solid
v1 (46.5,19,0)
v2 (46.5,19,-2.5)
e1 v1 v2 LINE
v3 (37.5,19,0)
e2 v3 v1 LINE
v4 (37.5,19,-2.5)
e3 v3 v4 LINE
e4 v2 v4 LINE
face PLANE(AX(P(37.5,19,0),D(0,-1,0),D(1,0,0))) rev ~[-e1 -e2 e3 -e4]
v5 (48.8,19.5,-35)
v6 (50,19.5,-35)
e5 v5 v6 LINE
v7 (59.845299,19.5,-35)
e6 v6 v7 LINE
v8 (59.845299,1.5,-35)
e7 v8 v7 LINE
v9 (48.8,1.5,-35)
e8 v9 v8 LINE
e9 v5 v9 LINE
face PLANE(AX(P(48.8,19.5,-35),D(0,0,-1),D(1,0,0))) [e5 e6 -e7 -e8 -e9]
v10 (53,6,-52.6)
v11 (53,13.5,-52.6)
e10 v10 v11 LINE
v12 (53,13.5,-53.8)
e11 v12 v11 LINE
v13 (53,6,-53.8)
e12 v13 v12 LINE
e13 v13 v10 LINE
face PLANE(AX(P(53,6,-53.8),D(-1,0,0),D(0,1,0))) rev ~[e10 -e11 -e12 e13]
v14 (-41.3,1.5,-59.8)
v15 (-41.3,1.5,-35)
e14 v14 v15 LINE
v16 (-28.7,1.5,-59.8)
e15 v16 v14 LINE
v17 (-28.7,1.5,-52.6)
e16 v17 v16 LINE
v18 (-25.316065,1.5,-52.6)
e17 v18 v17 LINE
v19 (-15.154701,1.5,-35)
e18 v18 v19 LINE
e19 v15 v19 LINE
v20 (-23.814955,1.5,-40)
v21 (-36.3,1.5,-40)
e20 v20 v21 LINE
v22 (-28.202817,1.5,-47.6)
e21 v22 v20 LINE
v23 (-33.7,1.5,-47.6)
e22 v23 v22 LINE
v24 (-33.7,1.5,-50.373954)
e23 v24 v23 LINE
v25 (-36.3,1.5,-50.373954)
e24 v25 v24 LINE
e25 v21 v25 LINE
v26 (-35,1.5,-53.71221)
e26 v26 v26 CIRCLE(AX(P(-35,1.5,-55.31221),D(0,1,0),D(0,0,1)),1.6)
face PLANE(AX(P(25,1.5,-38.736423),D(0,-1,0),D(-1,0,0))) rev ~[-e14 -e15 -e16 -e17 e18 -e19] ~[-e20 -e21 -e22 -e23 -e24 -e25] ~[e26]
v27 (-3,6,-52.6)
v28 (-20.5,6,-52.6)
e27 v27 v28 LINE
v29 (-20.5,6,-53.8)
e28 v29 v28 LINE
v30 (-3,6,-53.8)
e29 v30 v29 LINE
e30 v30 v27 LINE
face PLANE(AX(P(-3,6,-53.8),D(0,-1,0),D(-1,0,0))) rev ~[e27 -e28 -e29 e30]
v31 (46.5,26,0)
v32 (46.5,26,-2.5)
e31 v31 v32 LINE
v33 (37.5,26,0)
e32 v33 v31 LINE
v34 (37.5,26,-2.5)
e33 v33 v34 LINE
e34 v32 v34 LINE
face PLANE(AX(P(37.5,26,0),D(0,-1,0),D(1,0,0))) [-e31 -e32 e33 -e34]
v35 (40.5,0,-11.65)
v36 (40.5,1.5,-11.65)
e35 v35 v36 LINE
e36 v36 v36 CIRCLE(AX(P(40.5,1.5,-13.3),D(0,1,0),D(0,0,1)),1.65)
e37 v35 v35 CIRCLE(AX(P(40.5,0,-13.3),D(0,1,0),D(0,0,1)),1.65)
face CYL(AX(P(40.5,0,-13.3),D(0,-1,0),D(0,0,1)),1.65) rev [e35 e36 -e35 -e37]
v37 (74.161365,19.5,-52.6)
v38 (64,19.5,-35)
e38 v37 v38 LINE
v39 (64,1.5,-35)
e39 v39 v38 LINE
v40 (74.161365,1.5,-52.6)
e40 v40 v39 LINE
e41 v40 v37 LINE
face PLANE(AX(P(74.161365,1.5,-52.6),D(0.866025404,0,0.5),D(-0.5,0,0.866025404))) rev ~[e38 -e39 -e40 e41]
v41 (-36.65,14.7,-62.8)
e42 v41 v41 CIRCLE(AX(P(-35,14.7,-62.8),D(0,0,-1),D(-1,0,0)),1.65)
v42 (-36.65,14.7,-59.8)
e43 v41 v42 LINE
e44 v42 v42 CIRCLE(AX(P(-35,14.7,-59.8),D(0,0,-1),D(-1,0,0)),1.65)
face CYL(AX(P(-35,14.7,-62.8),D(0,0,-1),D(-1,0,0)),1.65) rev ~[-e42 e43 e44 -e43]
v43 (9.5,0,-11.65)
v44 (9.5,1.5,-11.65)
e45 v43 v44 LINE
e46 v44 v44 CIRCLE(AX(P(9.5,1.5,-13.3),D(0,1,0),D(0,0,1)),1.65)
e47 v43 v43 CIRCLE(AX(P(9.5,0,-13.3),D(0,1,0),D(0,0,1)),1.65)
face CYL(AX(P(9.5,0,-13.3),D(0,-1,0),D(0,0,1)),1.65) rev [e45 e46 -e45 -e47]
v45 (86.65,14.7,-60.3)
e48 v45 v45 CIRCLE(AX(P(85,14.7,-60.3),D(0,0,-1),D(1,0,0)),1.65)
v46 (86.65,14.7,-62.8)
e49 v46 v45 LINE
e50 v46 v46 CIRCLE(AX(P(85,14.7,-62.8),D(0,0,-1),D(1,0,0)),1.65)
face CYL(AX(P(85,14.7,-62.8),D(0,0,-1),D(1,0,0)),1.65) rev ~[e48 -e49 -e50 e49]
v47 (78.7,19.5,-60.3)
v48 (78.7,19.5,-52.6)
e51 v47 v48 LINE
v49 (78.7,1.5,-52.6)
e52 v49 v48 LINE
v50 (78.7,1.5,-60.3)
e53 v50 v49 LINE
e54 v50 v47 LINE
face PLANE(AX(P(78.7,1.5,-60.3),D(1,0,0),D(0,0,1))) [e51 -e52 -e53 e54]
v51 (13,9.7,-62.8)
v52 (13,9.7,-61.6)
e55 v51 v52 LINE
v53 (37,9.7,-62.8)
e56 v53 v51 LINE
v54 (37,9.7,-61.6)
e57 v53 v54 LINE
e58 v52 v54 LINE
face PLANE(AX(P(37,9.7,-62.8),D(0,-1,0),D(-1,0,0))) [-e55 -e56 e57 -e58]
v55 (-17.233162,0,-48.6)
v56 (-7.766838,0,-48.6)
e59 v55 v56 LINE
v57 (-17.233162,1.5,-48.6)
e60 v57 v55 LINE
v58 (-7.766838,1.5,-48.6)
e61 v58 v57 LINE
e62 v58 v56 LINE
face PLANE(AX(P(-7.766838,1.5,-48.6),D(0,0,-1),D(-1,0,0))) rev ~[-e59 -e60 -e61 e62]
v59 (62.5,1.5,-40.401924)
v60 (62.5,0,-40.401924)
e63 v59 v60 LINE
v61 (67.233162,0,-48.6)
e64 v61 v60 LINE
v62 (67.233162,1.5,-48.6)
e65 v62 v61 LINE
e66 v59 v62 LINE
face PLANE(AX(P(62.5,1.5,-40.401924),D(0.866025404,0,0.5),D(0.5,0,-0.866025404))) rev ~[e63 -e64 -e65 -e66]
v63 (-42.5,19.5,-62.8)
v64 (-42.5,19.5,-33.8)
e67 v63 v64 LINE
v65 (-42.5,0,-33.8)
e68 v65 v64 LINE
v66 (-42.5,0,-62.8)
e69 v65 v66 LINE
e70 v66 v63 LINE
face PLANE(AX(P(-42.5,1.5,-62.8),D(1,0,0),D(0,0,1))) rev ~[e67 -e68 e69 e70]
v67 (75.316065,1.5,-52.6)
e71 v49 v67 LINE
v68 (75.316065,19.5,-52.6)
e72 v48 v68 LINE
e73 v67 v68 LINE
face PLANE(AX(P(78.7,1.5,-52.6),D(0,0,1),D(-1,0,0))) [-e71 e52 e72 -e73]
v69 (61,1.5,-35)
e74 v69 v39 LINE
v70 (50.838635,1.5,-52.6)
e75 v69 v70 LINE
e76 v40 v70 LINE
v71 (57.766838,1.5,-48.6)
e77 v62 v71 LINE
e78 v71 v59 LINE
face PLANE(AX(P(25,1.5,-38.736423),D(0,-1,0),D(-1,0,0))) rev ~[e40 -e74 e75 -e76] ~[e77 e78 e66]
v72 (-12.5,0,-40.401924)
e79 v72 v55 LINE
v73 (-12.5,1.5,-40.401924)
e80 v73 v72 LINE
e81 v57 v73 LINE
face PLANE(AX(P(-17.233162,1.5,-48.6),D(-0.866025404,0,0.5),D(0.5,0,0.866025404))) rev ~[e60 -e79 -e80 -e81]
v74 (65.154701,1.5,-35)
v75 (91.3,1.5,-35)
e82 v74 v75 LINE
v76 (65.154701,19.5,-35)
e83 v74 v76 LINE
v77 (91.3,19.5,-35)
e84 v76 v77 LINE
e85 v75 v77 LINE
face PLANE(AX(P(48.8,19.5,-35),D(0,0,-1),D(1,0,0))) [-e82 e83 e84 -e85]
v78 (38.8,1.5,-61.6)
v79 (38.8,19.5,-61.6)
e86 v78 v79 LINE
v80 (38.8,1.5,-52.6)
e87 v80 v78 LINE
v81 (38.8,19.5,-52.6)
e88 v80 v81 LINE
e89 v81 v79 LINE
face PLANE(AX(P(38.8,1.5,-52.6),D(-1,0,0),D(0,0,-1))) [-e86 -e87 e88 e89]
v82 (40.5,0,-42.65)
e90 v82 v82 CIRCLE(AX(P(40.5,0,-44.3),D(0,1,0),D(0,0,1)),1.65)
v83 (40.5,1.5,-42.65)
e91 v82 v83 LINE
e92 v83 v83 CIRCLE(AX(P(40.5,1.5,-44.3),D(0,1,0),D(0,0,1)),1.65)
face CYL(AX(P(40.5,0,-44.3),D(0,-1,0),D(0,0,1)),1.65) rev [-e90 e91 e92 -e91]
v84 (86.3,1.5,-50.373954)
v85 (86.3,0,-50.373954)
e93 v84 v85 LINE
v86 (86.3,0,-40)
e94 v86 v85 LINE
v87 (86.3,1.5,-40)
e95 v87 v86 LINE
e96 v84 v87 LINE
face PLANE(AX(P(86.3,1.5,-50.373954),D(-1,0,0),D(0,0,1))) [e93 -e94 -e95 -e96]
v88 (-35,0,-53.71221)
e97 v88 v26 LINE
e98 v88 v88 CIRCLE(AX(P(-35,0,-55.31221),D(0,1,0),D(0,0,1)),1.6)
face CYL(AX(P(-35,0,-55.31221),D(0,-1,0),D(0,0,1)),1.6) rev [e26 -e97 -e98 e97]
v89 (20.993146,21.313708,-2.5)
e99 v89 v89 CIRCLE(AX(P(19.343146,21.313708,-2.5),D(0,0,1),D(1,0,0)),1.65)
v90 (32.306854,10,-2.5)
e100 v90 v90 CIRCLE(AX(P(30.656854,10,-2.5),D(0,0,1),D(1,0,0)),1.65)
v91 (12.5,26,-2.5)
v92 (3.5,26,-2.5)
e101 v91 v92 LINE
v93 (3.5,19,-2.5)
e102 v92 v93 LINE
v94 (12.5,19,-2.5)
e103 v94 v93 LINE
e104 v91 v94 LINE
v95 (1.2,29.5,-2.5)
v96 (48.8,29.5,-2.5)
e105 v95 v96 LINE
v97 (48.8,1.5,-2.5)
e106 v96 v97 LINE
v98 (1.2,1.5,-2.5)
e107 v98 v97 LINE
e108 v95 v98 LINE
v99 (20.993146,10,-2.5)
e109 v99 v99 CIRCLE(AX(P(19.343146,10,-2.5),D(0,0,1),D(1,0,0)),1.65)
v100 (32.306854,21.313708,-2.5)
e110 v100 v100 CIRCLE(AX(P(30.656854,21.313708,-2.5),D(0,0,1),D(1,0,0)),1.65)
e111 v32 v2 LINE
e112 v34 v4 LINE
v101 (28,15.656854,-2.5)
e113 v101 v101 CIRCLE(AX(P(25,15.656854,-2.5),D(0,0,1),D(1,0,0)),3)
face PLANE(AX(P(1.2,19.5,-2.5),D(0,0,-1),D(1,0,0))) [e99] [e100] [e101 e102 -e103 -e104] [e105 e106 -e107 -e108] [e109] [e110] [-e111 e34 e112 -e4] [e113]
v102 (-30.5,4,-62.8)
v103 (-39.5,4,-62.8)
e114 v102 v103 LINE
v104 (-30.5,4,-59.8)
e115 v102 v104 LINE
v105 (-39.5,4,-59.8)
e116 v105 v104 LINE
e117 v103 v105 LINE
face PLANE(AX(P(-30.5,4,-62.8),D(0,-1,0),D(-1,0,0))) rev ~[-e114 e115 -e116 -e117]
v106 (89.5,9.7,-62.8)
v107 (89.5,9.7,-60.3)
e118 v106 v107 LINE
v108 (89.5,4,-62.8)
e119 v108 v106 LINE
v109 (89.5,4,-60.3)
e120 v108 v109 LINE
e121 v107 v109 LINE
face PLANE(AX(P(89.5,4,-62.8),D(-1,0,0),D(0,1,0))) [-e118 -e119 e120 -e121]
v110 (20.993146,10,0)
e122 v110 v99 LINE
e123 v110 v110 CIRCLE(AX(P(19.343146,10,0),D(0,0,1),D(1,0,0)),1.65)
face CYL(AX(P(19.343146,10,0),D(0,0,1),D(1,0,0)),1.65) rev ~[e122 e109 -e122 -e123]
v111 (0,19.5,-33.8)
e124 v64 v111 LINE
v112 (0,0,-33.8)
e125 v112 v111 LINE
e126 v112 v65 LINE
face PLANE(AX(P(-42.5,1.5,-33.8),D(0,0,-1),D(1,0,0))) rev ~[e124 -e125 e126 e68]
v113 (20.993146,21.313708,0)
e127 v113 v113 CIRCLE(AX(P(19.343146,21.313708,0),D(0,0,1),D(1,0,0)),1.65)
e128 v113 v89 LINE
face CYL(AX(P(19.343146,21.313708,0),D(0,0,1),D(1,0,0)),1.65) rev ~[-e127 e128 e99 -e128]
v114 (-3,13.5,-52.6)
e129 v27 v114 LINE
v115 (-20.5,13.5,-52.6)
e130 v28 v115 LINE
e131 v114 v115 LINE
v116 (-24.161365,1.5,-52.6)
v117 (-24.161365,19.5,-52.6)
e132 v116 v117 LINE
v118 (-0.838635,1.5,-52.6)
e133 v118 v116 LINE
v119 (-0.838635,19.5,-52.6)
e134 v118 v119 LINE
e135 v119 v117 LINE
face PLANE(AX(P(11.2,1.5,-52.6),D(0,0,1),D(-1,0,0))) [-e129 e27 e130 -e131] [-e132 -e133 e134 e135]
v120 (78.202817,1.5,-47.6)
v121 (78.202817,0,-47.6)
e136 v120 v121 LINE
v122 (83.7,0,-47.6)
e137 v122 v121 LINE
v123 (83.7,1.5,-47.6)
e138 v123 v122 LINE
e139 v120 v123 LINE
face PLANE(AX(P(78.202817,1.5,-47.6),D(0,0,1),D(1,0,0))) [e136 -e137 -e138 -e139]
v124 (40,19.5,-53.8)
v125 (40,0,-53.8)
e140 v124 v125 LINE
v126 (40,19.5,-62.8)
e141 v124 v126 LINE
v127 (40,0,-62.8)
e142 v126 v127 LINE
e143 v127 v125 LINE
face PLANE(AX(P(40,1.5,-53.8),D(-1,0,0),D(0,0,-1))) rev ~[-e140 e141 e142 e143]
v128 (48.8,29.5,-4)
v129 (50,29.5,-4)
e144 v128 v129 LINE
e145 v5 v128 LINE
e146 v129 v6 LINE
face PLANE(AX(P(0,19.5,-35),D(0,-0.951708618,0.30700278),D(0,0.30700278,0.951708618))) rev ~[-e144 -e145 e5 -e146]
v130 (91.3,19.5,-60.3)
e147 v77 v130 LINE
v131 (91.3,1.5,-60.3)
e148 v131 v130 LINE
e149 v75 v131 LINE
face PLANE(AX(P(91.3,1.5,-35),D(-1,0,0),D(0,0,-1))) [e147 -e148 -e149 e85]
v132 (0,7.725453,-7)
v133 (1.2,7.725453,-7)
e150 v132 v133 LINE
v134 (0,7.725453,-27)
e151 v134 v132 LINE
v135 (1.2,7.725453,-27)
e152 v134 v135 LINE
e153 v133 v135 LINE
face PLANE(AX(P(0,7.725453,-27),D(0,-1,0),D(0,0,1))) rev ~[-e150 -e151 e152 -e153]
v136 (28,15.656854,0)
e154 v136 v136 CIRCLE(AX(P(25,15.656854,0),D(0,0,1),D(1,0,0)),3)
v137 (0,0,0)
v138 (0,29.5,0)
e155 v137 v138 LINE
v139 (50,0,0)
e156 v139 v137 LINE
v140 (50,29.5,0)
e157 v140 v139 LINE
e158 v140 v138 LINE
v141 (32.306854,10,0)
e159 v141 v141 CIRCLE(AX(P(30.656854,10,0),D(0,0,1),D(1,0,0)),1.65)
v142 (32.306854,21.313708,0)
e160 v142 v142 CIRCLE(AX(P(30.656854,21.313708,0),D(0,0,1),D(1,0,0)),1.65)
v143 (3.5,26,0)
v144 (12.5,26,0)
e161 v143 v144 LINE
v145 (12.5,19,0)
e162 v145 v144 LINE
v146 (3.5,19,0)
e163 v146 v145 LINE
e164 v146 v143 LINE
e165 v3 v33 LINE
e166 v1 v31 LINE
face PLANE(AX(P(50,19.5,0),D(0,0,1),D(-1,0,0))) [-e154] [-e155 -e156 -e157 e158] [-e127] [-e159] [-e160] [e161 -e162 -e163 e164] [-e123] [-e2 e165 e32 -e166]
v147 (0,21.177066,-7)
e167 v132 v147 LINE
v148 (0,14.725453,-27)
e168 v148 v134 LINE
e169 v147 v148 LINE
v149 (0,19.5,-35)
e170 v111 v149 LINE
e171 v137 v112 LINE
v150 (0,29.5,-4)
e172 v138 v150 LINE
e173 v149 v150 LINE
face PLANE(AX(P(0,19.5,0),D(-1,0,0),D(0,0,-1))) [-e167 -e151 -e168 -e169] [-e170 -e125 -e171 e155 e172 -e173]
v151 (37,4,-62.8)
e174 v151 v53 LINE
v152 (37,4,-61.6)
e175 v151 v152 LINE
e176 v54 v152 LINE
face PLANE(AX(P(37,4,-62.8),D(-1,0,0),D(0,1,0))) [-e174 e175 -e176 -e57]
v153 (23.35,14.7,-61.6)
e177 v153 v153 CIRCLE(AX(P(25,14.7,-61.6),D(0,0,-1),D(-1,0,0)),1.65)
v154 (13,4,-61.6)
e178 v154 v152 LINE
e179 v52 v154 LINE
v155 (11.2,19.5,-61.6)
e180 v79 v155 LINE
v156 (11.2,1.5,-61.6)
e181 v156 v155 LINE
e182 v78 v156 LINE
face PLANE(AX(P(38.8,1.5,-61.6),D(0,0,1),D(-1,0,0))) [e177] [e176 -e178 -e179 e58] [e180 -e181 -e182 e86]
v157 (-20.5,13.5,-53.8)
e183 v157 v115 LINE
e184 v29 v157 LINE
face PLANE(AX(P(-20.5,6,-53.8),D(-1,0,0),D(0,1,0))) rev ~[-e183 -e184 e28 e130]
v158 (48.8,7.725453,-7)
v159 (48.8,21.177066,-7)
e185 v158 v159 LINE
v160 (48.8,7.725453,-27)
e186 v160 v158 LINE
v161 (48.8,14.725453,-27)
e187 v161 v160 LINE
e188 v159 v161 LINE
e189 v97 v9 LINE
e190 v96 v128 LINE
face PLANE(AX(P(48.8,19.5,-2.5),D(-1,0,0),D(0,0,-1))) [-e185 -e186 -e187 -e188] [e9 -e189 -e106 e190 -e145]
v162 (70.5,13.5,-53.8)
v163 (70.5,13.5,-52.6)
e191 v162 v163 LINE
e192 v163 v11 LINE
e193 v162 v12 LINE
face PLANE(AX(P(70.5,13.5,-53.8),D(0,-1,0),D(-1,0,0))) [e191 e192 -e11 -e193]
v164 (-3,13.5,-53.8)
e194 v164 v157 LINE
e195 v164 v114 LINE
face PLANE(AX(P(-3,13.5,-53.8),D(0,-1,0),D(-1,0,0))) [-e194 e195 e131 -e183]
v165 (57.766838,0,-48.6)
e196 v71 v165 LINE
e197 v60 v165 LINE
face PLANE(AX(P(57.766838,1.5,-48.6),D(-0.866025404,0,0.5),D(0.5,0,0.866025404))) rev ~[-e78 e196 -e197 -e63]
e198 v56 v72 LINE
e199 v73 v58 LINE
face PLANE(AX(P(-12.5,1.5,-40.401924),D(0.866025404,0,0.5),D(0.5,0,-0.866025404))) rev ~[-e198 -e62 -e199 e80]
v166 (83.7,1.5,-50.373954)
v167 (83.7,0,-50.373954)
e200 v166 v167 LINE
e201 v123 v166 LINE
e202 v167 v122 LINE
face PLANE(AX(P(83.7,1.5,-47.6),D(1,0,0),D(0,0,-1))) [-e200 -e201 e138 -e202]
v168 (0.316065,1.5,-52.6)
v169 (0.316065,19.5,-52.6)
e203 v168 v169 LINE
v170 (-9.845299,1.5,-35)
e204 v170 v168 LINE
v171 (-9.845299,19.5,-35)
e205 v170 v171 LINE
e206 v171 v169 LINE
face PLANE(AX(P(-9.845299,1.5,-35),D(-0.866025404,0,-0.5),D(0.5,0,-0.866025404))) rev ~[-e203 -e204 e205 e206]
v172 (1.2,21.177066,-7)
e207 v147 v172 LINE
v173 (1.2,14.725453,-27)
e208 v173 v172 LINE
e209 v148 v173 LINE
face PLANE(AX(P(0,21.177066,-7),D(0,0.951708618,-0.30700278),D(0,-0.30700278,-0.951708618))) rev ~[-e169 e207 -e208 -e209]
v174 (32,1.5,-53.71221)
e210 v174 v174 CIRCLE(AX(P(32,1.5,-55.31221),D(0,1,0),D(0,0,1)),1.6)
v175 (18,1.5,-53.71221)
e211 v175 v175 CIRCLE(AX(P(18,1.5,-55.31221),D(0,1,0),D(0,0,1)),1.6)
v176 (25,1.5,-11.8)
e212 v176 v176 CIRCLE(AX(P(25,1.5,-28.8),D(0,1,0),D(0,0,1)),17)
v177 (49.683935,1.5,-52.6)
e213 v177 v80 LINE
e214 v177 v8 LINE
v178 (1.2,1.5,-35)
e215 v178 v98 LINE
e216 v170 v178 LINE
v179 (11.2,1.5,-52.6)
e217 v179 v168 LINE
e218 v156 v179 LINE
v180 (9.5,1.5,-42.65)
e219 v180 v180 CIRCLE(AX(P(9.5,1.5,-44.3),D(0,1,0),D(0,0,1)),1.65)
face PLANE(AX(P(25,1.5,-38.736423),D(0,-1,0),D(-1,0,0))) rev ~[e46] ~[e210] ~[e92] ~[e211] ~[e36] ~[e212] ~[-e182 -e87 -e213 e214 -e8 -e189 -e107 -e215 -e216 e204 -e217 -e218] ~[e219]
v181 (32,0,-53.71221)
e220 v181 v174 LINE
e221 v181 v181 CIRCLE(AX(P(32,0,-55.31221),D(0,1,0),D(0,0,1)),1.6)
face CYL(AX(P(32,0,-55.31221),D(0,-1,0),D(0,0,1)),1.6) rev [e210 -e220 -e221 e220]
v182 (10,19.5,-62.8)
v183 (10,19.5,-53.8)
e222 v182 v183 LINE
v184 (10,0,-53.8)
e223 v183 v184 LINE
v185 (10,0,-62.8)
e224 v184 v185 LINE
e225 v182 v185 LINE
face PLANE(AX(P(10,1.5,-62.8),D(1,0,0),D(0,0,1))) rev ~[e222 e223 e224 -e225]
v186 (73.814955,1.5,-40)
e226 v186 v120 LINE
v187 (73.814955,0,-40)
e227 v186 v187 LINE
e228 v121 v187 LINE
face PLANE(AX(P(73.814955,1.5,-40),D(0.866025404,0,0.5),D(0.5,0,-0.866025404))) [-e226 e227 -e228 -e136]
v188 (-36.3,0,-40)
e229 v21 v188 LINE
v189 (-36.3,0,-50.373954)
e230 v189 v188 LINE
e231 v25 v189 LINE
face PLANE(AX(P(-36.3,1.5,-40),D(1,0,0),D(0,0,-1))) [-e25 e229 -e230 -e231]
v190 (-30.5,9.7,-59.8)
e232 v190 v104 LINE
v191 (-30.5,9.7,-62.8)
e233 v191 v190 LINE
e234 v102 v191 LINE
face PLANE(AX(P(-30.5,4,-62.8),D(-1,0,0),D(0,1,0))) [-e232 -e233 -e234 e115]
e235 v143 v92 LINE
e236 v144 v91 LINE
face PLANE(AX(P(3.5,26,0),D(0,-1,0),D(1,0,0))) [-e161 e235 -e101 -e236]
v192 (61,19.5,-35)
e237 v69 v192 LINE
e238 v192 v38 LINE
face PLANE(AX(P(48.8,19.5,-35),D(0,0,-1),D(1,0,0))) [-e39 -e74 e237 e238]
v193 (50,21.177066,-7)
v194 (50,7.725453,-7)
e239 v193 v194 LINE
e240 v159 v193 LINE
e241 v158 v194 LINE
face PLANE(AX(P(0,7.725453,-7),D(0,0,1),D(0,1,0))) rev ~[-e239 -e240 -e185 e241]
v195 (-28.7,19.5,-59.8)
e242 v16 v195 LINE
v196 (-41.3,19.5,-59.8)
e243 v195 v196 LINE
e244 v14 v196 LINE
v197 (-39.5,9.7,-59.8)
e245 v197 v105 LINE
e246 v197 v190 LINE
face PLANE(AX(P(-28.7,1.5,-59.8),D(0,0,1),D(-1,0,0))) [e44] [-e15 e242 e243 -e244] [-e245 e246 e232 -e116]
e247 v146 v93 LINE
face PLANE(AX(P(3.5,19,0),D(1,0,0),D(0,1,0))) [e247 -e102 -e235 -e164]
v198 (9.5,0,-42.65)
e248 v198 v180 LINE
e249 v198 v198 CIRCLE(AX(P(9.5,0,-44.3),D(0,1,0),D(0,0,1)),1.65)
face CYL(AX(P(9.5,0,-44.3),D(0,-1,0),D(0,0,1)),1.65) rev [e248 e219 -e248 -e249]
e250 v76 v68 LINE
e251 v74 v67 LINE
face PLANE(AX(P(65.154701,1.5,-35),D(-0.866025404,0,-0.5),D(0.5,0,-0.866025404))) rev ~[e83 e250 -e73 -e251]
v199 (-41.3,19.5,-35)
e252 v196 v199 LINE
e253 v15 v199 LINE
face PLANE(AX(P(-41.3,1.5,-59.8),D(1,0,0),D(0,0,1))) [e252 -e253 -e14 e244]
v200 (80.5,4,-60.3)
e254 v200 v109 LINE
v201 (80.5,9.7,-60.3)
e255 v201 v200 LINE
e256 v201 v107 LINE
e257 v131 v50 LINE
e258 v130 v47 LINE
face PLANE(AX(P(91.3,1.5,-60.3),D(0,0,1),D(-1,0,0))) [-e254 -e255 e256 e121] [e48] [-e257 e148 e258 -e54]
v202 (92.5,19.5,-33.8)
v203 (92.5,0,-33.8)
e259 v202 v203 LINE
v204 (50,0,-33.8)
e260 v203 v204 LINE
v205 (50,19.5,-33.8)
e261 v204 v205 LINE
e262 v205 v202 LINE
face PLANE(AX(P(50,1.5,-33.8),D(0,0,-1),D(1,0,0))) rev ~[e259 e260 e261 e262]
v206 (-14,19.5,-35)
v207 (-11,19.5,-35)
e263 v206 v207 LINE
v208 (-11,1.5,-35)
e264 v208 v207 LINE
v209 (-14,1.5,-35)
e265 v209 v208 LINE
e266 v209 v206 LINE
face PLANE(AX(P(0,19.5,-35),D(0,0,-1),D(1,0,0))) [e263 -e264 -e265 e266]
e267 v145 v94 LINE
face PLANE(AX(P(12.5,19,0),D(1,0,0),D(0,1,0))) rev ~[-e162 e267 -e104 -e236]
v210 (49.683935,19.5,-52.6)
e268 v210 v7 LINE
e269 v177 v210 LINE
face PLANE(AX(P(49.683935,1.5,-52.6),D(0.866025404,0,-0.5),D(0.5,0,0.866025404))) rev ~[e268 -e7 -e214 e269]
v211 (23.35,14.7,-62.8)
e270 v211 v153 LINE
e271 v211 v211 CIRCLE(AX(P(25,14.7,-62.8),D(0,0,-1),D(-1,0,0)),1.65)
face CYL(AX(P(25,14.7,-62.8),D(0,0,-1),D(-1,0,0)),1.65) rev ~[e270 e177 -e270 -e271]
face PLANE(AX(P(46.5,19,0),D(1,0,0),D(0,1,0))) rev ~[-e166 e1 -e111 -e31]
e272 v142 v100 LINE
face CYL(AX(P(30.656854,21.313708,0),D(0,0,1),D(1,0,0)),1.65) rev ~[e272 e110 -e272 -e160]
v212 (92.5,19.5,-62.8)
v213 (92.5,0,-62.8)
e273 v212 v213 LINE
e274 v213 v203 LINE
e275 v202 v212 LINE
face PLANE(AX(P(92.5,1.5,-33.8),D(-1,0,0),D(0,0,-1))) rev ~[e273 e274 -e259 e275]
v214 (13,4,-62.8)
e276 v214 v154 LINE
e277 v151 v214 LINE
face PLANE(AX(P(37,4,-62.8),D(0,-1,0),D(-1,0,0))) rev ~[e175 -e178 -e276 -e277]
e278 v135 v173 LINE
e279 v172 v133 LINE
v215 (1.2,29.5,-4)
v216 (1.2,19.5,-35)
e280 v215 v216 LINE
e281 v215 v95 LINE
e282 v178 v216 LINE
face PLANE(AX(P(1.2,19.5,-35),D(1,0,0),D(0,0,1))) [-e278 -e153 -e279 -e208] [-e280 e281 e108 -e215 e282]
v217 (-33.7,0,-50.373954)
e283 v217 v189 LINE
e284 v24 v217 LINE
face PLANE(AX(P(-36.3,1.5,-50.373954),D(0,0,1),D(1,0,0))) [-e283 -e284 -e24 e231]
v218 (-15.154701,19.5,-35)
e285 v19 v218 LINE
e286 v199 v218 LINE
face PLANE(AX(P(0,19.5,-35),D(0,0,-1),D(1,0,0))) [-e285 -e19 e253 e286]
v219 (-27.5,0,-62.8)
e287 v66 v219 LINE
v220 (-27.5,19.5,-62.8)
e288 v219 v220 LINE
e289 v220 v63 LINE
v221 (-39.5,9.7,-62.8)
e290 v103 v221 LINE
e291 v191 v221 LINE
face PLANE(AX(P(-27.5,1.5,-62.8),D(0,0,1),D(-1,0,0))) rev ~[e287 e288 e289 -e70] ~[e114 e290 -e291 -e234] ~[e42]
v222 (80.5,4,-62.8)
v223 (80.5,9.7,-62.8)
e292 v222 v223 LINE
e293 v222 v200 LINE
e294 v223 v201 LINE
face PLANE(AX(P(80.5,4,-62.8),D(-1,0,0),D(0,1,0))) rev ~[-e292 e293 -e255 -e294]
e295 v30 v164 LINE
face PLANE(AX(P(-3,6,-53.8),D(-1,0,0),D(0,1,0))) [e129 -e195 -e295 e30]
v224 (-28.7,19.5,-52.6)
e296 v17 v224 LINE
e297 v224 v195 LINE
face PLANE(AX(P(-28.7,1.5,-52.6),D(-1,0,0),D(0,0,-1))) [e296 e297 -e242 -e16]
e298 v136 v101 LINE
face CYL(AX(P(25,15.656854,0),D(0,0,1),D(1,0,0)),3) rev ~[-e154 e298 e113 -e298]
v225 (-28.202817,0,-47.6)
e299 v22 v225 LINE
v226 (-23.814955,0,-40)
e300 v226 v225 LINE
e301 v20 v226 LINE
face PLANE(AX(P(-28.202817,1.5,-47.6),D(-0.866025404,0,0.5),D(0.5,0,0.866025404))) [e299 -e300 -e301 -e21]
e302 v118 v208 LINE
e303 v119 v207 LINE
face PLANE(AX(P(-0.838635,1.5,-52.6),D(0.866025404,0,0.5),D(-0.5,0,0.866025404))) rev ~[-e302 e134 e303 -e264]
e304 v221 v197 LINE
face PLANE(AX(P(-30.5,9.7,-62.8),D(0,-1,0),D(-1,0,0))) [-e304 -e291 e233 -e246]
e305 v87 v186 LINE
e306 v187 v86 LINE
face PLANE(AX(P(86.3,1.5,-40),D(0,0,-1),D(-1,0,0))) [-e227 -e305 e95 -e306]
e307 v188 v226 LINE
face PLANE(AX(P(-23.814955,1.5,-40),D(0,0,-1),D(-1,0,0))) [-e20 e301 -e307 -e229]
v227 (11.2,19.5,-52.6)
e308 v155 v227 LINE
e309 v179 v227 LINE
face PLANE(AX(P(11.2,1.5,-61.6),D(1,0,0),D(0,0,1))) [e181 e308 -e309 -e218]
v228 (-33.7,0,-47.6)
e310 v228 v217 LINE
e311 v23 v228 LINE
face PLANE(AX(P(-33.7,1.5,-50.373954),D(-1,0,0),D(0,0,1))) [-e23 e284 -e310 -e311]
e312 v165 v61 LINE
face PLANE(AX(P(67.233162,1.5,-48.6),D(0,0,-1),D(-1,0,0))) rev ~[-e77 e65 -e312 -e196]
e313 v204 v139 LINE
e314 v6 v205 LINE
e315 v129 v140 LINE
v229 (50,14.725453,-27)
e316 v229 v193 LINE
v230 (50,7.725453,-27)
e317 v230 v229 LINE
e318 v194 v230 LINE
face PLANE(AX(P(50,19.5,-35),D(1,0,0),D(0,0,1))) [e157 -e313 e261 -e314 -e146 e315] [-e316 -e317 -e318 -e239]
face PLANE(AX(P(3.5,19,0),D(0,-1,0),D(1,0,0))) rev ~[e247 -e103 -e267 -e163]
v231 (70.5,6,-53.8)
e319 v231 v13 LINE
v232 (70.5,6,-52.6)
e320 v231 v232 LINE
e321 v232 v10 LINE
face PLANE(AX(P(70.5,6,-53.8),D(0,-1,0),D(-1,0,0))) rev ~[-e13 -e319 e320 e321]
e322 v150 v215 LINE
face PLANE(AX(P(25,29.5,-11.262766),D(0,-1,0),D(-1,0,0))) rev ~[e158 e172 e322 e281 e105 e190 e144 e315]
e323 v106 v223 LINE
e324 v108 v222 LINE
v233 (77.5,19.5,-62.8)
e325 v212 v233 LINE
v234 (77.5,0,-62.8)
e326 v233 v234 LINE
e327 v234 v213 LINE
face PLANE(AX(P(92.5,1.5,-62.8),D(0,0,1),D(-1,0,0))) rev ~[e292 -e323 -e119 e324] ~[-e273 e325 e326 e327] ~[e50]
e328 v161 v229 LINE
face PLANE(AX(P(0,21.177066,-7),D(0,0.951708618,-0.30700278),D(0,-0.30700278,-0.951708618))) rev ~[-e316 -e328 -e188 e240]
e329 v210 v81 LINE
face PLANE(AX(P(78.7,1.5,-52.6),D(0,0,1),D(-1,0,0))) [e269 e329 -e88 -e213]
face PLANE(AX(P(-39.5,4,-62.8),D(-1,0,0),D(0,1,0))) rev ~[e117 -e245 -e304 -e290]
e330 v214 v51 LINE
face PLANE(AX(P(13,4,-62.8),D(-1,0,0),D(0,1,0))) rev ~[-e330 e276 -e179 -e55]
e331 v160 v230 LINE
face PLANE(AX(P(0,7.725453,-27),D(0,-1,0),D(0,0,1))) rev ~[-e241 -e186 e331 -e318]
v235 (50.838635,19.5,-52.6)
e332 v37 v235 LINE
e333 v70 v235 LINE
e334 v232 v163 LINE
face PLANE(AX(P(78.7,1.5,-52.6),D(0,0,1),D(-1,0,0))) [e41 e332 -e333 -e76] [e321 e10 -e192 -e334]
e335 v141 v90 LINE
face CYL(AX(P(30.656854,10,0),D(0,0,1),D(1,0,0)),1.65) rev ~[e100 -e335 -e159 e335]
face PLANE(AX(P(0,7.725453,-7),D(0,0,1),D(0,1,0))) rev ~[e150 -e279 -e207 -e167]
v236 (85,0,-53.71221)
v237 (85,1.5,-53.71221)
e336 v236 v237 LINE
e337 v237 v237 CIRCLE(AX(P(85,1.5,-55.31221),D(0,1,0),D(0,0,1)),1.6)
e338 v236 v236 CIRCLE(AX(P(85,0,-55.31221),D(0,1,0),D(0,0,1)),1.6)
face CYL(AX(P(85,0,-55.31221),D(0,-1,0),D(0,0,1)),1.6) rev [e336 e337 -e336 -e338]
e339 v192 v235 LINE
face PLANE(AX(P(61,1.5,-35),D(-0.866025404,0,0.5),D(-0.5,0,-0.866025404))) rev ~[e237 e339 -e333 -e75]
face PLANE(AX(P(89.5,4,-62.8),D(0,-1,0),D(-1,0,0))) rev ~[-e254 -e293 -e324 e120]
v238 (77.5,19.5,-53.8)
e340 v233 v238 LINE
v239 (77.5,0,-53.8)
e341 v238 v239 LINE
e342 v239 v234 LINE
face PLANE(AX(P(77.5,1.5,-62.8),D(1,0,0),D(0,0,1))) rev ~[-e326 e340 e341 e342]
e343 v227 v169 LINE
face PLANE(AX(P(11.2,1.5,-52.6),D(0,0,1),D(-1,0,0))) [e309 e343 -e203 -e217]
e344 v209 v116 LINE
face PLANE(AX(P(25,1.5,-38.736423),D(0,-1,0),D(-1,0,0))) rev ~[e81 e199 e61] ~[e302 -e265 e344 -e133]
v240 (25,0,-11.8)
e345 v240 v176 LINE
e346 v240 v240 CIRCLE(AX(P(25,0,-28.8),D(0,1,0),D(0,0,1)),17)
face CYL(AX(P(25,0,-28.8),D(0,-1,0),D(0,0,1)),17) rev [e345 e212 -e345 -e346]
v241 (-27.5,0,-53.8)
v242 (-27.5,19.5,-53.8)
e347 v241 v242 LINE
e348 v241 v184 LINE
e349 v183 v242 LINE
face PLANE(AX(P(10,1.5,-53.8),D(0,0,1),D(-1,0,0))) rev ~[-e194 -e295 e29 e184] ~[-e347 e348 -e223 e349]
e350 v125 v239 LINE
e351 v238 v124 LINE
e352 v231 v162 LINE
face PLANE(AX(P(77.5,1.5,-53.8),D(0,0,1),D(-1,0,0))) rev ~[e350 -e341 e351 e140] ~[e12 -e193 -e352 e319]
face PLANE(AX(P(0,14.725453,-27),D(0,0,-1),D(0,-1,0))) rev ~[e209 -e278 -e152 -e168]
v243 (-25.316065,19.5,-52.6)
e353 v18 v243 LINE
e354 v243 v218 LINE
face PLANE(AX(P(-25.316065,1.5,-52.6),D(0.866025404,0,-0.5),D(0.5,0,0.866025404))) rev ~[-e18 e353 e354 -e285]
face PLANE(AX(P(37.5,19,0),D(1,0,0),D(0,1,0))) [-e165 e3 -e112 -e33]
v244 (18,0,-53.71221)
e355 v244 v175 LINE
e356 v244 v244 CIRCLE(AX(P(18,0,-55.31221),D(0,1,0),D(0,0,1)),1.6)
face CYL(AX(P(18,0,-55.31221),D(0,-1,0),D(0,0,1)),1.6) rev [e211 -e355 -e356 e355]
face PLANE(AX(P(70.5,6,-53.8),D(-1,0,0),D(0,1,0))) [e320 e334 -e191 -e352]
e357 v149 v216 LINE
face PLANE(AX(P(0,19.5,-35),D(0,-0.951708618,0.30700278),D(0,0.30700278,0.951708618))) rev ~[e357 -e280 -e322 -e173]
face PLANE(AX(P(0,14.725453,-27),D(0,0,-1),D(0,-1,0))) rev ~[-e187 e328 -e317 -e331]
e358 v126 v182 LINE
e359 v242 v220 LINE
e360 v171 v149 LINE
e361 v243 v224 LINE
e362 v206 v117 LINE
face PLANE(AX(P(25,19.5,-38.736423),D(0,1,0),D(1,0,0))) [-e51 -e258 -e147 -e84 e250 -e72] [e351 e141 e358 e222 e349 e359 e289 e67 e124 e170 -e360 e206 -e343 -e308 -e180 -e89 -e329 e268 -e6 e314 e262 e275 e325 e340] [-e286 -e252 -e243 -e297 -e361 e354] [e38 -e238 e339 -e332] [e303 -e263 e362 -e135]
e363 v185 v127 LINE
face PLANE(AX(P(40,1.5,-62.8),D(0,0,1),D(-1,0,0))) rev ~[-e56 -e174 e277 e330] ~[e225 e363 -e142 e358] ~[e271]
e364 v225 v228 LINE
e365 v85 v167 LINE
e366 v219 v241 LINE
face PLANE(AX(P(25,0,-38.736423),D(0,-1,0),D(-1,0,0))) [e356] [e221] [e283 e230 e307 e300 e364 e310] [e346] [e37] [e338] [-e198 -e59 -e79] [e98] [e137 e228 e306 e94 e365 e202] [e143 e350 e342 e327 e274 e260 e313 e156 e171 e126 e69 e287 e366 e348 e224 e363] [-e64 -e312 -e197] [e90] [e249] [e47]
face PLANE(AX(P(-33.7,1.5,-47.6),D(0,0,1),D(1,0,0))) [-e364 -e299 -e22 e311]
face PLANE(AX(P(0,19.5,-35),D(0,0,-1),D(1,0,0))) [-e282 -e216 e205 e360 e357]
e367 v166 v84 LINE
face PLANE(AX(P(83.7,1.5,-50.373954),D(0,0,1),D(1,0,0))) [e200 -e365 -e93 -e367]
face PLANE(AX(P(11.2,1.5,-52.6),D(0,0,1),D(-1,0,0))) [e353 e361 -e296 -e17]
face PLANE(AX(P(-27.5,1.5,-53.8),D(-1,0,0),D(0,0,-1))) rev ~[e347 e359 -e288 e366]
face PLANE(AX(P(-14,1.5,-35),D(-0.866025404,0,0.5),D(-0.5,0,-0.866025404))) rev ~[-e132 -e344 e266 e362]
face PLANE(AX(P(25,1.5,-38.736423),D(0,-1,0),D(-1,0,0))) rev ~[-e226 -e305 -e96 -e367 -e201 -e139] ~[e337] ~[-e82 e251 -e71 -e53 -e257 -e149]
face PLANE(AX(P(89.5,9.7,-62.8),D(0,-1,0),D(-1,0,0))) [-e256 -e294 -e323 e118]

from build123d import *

# Parameters (mm, degrees)
SKETCH_2_R           = 1.6
SKETCH_2_R_2         = 17
SKETCH_2_R_3         = 1.65
EXTRUDE_2_DEPTH      = 1.5
EXTRUDE_3_DEPTH      = 18
EXTRUDE_4_DEPTH      = 10
CUT_EXTRUDE_5_DEPTH  = 116.63018637
SKETCH_10_R          = 3
SKETCH_10_R_2        = 1.65
SKETCH_10_W          = 9
SKETCH_10_H          = 7
CUT_EXTRUDE_4_DEPTH  = 5
EXTRUDE_5_DEPTH      = 18
SKETCH_14_R          = 1.65
CUT_EXTRUDE_6_DEPTH  = 10
CUT_EXTRUDE_7_DEPTH  = 116.63018637
SKETCH_18_W          = 9
SKETCH_18_H          = 5.7
SKETCH_18_W_2        = 24
CUT_EXTRUDE_8_DEPTH  = 10
CUT_EXTRUDE_9_DEPTH  = 10
SKETCH_21_W          = 17.5
SKETCH_21_H          = 7.5
CUT_EXTRUDE_10_DEPTH = 1.2


with BuildPart() as part:
    # 草图2 → 凸台-拉伸2 (new body)
    with BuildSketch(Plane(origin=(0, 0, 0), x_dir=(1, 0, 0), z_dir=(0, 1, 0))):
        Polygon((-42.5, 33.8), (-42.5, 62.8), (-27.5, 62.8), (-27.5, 53.8), (10, 53.8), (10, 62.8), (40, 62.8), (40, 53.8), (77.5, 53.8), (77.5, 62.8), (92.5, 62.8), (92.5, 33.8), (50, 33.8), (50, 0), (0, 0), (0, 33.8), align=None)
        with Locations(Location((-35, 55.312210178, 0), (0, 0, 270))):
            Circle(SKETCH_2_R, mode=Mode.SUBTRACT)
        with Locations(Location((85, 55.312210178, 0), (0, 0, 270))):
            Circle(SKETCH_2_R, mode=Mode.SUBTRACT)
        with Locations(Location((18, 55.312210178, 0), (0, 0, 270))):
            Circle(SKETCH_2_R, mode=Mode.SUBTRACT)
        with Locations(Location((32, 55.312210178, 0), (0, 0, 270))):
            Circle(SKETCH_2_R, mode=Mode.SUBTRACT)
        with Locations(Location((25, 28.8, 0), (0, 0, 270))):
            Circle(SKETCH_2_R_2, mode=Mode.SUBTRACT)
        with Locations(Location((40.5, 44.3, 0), (0, 0, 270))):
            Circle(SKETCH_2_R_3, mode=Mode.SUBTRACT)
        with Locations(Location((40.5, 13.3, 0), (0, 0, 270))):
            Circle(SKETCH_2_R_3, mode=Mode.SUBTRACT)
        with Locations(Location((9.5, 13.3, 0), (0, 0, 270))):
            Circle(SKETCH_2_R_3, mode=Mode.SUBTRACT)
        with Locations(Location((9.5, 44.3, 0), (0, 0, 270))):
            Circle(SKETCH_2_R_3, mode=Mode.SUBTRACT)
    extrude(amount=EXTRUDE_2_DEPTH)

    # 草图6 → 凸台-拉伸3 (add)
    with BuildSketch(Plane(origin=(0, 1.5, 0), x_dir=(1, 0, 0), z_dir=(0, 1, 0))):
        Polygon((10, 53.8), (-27.5, 53.8), (-27.5, 62.8), (-42.5, 62.8), (-42.5, 33.8), (0, 33.8), (0, 0), (50, 0), (50, 33.8), (92.5, 33.8), (92.5, 62.8), (77.5, 62.8), (77.5, 53.8), (40, 53.8), (40, 62.8), (10, 62.8), align=None)
        Polygon((11.2, 52.6), (-28.7, 52.6), (-28.7, 59.8), (-41.3, 59.8), (-41.3, 35), (1.2, 35), (1.2, 2.5), (48.8, 2.5), (48.8, 35), (91.3, 35), (91.3, 60.3), (78.7, 60.3), (78.7, 52.6), (38.8, 52.6), (38.8, 61.6), (11.2, 61.6), align=None, mode=Mode.SUBTRACT)
    extrude(amount=EXTRUDE_3_DEPTH)

    # 草图11 → 凸台-拉伸4 (add)
    with BuildSketch(Plane(origin=(0, 19.5, 0), x_dir=(1, 0, 0), z_dir=(0, 1, 0))):
        Polygon((1.2, 35), (1.2, 2.5), (48.8, 2.5), (48.8, 35), (50, 35), (50, 0), (0, 0), (0, 35), align=None)
    extrude(amount=EXTRUDE_4_DEPTH)

    # 草图12 → 切除-拉伸5 (cut, through all)
    with BuildSketch(Plane.ZY):
        Polygon((-35, 19.5), (-4, 29.5), (-35, 29.5), align=None)
    extrude(amount=-CUT_EXTRUDE_5_DEPTH, mode=Mode.SUBTRACT)

    # 草图10 → 切除-拉伸4 (cut)
    with BuildSketch(Plane.XY):
        with Locations((25, 15.656854249)):
            Circle(SKETCH_10_R)
        with Locations((30.656854249, 21.313708499)):
            Circle(SKETCH_10_R_2)
        with Locations((30.656854249, 10)):
            Circle(SKETCH_10_R_2)
        with Locations((19.343145751, 10)):
            Circle(SKETCH_10_R_2)
        with Locations((19.343145751, 21.313708499)):
            Circle(SKETCH_10_R_2)
        with Locations((8, 22.5)):
            Rectangle(SKETCH_10_W, SKETCH_10_H)
        with Locations((42, 22.5)):
            Rectangle(SKETCH_10_W, SKETCH_10_H)
    extrude(amount=-CUT_EXTRUDE_4_DEPTH, mode=Mode.SUBTRACT)

    # 草图13 → 凸台-拉伸5 (add)
    with BuildSketch(Plane(origin=(0, 1.5, 0), x_dir=(1, 0, 0), z_dir=(0, 1, 0))):
        Polygon((0.316065276, 52.6), (-0.838635262, 52.6), (-11, 35), (-9.845299462, 35), align=None)
        Polygon((-15.154700538, 35), (-14, 35), (-24.161364738, 52.6), (-25.316065276, 52.6), align=None)
        Polygon((59.845299462, 35), (61, 35), (50.838635262, 52.6), (49.683934724, 52.6), align=None)
        Polygon((75.316065276, 52.6), (74.161364738, 52.6), (64, 35), (65.154700538, 35), align=None)
    extrude(amount=EXTRUDE_5_DEPTH)

    # 草图14 → 切除-拉伸6 (cut)
    with BuildSketch(Plane(origin=(0, 0, -62.8), x_dir=(-1, 0, 0), z_dir=(0, 0, -1))):
        with Locations((35, 14.7)):
            Circle(SKETCH_14_R)
        with Locations(Location((-85, 14.7, 0), (0, 0, 180))):
            Circle(SKETCH_14_R)
        with Locations((-25, 14.7)):
            Circle(SKETCH_14_R)
    extrude(amount=-CUT_EXTRUDE_6_DEPTH, mode=Mode.SUBTRACT)

    # 草图17 → 切除-拉伸7 (cut, through all)
    with BuildSketch(Plane.ZY):
        Polygon((-7, 21.177065656), (-27, 14.725452753), (-27, 7.725452753), (-7, 7.725452753), align=None)
    extrude(amount=-CUT_EXTRUDE_7_DEPTH, mode=Mode.SUBTRACT)

    # 草图18 → 切除-拉伸8 (cut)
    with BuildSketch(Plane(origin=(0, 0, -62.8), x_dir=(-1, 0, 0), z_dir=(0, 0, -1))):
        with Locations((-85, 6.85)):
            Rectangle(SKETCH_18_W, SKETCH_18_H)
        with Locations((-25, 6.85)):
            Rectangle(SKETCH_18_W_2, SKETCH_18_H)
        with Locations((35, 6.85)):
            Rectangle(SKETCH_18_W, SKETCH_18_H)
    extrude(amount=-CUT_EXTRUDE_8_DEPTH, mode=Mode.SUBTRACT)

    # 草图20 → 切除-拉伸9 (cut)
    with BuildSketch(Plane(origin=(0, 1.5, 0), x_dir=(1, 0, 0), z_dir=(0, 1, 0))):
        Polygon((-12.5, 40.401923789), (-7.766838493, 48.6), (-17.233161507, 48.6), align=None)
        Polygon((62.5, 40.401923789), (67.233161507, 48.6), (57.766838493, 48.6), align=None)
        Polygon((-36.3, 50.373953839), (-33.7, 50.373953839), (-33.7, 47.6), (-28.202816622, 47.6), (-23.814954576, 40), (-36.3, 40), align=None)
        Polygon((86.3, 40), (73.814954576, 40), (78.202816622, 47.6), (83.7, 47.6), (83.7, 50.373953839), (86.3, 50.373953839), align=None)
    extrude(amount=-CUT_EXTRUDE_9_DEPTH, mode=Mode.SUBTRACT)

    # 草图21 → 切除-拉伸10 (cut)
    with BuildSketch(Plane(origin=(0, 0, -53.8), x_dir=(-1, 0, 0), z_dir=(0, 0, -1))):
        with Locations((11.75, 9.75)):
            Rectangle(SKETCH_21_W, SKETCH_21_H)
        with Locations((-61.75, 9.75)):
            Rectangle(SKETCH_21_W, SKETCH_21_H)
    extrude(amount=-CUT_EXTRUDE_10_DEPTH, mode=Mode.SUBTRACT)


solid = part.part
